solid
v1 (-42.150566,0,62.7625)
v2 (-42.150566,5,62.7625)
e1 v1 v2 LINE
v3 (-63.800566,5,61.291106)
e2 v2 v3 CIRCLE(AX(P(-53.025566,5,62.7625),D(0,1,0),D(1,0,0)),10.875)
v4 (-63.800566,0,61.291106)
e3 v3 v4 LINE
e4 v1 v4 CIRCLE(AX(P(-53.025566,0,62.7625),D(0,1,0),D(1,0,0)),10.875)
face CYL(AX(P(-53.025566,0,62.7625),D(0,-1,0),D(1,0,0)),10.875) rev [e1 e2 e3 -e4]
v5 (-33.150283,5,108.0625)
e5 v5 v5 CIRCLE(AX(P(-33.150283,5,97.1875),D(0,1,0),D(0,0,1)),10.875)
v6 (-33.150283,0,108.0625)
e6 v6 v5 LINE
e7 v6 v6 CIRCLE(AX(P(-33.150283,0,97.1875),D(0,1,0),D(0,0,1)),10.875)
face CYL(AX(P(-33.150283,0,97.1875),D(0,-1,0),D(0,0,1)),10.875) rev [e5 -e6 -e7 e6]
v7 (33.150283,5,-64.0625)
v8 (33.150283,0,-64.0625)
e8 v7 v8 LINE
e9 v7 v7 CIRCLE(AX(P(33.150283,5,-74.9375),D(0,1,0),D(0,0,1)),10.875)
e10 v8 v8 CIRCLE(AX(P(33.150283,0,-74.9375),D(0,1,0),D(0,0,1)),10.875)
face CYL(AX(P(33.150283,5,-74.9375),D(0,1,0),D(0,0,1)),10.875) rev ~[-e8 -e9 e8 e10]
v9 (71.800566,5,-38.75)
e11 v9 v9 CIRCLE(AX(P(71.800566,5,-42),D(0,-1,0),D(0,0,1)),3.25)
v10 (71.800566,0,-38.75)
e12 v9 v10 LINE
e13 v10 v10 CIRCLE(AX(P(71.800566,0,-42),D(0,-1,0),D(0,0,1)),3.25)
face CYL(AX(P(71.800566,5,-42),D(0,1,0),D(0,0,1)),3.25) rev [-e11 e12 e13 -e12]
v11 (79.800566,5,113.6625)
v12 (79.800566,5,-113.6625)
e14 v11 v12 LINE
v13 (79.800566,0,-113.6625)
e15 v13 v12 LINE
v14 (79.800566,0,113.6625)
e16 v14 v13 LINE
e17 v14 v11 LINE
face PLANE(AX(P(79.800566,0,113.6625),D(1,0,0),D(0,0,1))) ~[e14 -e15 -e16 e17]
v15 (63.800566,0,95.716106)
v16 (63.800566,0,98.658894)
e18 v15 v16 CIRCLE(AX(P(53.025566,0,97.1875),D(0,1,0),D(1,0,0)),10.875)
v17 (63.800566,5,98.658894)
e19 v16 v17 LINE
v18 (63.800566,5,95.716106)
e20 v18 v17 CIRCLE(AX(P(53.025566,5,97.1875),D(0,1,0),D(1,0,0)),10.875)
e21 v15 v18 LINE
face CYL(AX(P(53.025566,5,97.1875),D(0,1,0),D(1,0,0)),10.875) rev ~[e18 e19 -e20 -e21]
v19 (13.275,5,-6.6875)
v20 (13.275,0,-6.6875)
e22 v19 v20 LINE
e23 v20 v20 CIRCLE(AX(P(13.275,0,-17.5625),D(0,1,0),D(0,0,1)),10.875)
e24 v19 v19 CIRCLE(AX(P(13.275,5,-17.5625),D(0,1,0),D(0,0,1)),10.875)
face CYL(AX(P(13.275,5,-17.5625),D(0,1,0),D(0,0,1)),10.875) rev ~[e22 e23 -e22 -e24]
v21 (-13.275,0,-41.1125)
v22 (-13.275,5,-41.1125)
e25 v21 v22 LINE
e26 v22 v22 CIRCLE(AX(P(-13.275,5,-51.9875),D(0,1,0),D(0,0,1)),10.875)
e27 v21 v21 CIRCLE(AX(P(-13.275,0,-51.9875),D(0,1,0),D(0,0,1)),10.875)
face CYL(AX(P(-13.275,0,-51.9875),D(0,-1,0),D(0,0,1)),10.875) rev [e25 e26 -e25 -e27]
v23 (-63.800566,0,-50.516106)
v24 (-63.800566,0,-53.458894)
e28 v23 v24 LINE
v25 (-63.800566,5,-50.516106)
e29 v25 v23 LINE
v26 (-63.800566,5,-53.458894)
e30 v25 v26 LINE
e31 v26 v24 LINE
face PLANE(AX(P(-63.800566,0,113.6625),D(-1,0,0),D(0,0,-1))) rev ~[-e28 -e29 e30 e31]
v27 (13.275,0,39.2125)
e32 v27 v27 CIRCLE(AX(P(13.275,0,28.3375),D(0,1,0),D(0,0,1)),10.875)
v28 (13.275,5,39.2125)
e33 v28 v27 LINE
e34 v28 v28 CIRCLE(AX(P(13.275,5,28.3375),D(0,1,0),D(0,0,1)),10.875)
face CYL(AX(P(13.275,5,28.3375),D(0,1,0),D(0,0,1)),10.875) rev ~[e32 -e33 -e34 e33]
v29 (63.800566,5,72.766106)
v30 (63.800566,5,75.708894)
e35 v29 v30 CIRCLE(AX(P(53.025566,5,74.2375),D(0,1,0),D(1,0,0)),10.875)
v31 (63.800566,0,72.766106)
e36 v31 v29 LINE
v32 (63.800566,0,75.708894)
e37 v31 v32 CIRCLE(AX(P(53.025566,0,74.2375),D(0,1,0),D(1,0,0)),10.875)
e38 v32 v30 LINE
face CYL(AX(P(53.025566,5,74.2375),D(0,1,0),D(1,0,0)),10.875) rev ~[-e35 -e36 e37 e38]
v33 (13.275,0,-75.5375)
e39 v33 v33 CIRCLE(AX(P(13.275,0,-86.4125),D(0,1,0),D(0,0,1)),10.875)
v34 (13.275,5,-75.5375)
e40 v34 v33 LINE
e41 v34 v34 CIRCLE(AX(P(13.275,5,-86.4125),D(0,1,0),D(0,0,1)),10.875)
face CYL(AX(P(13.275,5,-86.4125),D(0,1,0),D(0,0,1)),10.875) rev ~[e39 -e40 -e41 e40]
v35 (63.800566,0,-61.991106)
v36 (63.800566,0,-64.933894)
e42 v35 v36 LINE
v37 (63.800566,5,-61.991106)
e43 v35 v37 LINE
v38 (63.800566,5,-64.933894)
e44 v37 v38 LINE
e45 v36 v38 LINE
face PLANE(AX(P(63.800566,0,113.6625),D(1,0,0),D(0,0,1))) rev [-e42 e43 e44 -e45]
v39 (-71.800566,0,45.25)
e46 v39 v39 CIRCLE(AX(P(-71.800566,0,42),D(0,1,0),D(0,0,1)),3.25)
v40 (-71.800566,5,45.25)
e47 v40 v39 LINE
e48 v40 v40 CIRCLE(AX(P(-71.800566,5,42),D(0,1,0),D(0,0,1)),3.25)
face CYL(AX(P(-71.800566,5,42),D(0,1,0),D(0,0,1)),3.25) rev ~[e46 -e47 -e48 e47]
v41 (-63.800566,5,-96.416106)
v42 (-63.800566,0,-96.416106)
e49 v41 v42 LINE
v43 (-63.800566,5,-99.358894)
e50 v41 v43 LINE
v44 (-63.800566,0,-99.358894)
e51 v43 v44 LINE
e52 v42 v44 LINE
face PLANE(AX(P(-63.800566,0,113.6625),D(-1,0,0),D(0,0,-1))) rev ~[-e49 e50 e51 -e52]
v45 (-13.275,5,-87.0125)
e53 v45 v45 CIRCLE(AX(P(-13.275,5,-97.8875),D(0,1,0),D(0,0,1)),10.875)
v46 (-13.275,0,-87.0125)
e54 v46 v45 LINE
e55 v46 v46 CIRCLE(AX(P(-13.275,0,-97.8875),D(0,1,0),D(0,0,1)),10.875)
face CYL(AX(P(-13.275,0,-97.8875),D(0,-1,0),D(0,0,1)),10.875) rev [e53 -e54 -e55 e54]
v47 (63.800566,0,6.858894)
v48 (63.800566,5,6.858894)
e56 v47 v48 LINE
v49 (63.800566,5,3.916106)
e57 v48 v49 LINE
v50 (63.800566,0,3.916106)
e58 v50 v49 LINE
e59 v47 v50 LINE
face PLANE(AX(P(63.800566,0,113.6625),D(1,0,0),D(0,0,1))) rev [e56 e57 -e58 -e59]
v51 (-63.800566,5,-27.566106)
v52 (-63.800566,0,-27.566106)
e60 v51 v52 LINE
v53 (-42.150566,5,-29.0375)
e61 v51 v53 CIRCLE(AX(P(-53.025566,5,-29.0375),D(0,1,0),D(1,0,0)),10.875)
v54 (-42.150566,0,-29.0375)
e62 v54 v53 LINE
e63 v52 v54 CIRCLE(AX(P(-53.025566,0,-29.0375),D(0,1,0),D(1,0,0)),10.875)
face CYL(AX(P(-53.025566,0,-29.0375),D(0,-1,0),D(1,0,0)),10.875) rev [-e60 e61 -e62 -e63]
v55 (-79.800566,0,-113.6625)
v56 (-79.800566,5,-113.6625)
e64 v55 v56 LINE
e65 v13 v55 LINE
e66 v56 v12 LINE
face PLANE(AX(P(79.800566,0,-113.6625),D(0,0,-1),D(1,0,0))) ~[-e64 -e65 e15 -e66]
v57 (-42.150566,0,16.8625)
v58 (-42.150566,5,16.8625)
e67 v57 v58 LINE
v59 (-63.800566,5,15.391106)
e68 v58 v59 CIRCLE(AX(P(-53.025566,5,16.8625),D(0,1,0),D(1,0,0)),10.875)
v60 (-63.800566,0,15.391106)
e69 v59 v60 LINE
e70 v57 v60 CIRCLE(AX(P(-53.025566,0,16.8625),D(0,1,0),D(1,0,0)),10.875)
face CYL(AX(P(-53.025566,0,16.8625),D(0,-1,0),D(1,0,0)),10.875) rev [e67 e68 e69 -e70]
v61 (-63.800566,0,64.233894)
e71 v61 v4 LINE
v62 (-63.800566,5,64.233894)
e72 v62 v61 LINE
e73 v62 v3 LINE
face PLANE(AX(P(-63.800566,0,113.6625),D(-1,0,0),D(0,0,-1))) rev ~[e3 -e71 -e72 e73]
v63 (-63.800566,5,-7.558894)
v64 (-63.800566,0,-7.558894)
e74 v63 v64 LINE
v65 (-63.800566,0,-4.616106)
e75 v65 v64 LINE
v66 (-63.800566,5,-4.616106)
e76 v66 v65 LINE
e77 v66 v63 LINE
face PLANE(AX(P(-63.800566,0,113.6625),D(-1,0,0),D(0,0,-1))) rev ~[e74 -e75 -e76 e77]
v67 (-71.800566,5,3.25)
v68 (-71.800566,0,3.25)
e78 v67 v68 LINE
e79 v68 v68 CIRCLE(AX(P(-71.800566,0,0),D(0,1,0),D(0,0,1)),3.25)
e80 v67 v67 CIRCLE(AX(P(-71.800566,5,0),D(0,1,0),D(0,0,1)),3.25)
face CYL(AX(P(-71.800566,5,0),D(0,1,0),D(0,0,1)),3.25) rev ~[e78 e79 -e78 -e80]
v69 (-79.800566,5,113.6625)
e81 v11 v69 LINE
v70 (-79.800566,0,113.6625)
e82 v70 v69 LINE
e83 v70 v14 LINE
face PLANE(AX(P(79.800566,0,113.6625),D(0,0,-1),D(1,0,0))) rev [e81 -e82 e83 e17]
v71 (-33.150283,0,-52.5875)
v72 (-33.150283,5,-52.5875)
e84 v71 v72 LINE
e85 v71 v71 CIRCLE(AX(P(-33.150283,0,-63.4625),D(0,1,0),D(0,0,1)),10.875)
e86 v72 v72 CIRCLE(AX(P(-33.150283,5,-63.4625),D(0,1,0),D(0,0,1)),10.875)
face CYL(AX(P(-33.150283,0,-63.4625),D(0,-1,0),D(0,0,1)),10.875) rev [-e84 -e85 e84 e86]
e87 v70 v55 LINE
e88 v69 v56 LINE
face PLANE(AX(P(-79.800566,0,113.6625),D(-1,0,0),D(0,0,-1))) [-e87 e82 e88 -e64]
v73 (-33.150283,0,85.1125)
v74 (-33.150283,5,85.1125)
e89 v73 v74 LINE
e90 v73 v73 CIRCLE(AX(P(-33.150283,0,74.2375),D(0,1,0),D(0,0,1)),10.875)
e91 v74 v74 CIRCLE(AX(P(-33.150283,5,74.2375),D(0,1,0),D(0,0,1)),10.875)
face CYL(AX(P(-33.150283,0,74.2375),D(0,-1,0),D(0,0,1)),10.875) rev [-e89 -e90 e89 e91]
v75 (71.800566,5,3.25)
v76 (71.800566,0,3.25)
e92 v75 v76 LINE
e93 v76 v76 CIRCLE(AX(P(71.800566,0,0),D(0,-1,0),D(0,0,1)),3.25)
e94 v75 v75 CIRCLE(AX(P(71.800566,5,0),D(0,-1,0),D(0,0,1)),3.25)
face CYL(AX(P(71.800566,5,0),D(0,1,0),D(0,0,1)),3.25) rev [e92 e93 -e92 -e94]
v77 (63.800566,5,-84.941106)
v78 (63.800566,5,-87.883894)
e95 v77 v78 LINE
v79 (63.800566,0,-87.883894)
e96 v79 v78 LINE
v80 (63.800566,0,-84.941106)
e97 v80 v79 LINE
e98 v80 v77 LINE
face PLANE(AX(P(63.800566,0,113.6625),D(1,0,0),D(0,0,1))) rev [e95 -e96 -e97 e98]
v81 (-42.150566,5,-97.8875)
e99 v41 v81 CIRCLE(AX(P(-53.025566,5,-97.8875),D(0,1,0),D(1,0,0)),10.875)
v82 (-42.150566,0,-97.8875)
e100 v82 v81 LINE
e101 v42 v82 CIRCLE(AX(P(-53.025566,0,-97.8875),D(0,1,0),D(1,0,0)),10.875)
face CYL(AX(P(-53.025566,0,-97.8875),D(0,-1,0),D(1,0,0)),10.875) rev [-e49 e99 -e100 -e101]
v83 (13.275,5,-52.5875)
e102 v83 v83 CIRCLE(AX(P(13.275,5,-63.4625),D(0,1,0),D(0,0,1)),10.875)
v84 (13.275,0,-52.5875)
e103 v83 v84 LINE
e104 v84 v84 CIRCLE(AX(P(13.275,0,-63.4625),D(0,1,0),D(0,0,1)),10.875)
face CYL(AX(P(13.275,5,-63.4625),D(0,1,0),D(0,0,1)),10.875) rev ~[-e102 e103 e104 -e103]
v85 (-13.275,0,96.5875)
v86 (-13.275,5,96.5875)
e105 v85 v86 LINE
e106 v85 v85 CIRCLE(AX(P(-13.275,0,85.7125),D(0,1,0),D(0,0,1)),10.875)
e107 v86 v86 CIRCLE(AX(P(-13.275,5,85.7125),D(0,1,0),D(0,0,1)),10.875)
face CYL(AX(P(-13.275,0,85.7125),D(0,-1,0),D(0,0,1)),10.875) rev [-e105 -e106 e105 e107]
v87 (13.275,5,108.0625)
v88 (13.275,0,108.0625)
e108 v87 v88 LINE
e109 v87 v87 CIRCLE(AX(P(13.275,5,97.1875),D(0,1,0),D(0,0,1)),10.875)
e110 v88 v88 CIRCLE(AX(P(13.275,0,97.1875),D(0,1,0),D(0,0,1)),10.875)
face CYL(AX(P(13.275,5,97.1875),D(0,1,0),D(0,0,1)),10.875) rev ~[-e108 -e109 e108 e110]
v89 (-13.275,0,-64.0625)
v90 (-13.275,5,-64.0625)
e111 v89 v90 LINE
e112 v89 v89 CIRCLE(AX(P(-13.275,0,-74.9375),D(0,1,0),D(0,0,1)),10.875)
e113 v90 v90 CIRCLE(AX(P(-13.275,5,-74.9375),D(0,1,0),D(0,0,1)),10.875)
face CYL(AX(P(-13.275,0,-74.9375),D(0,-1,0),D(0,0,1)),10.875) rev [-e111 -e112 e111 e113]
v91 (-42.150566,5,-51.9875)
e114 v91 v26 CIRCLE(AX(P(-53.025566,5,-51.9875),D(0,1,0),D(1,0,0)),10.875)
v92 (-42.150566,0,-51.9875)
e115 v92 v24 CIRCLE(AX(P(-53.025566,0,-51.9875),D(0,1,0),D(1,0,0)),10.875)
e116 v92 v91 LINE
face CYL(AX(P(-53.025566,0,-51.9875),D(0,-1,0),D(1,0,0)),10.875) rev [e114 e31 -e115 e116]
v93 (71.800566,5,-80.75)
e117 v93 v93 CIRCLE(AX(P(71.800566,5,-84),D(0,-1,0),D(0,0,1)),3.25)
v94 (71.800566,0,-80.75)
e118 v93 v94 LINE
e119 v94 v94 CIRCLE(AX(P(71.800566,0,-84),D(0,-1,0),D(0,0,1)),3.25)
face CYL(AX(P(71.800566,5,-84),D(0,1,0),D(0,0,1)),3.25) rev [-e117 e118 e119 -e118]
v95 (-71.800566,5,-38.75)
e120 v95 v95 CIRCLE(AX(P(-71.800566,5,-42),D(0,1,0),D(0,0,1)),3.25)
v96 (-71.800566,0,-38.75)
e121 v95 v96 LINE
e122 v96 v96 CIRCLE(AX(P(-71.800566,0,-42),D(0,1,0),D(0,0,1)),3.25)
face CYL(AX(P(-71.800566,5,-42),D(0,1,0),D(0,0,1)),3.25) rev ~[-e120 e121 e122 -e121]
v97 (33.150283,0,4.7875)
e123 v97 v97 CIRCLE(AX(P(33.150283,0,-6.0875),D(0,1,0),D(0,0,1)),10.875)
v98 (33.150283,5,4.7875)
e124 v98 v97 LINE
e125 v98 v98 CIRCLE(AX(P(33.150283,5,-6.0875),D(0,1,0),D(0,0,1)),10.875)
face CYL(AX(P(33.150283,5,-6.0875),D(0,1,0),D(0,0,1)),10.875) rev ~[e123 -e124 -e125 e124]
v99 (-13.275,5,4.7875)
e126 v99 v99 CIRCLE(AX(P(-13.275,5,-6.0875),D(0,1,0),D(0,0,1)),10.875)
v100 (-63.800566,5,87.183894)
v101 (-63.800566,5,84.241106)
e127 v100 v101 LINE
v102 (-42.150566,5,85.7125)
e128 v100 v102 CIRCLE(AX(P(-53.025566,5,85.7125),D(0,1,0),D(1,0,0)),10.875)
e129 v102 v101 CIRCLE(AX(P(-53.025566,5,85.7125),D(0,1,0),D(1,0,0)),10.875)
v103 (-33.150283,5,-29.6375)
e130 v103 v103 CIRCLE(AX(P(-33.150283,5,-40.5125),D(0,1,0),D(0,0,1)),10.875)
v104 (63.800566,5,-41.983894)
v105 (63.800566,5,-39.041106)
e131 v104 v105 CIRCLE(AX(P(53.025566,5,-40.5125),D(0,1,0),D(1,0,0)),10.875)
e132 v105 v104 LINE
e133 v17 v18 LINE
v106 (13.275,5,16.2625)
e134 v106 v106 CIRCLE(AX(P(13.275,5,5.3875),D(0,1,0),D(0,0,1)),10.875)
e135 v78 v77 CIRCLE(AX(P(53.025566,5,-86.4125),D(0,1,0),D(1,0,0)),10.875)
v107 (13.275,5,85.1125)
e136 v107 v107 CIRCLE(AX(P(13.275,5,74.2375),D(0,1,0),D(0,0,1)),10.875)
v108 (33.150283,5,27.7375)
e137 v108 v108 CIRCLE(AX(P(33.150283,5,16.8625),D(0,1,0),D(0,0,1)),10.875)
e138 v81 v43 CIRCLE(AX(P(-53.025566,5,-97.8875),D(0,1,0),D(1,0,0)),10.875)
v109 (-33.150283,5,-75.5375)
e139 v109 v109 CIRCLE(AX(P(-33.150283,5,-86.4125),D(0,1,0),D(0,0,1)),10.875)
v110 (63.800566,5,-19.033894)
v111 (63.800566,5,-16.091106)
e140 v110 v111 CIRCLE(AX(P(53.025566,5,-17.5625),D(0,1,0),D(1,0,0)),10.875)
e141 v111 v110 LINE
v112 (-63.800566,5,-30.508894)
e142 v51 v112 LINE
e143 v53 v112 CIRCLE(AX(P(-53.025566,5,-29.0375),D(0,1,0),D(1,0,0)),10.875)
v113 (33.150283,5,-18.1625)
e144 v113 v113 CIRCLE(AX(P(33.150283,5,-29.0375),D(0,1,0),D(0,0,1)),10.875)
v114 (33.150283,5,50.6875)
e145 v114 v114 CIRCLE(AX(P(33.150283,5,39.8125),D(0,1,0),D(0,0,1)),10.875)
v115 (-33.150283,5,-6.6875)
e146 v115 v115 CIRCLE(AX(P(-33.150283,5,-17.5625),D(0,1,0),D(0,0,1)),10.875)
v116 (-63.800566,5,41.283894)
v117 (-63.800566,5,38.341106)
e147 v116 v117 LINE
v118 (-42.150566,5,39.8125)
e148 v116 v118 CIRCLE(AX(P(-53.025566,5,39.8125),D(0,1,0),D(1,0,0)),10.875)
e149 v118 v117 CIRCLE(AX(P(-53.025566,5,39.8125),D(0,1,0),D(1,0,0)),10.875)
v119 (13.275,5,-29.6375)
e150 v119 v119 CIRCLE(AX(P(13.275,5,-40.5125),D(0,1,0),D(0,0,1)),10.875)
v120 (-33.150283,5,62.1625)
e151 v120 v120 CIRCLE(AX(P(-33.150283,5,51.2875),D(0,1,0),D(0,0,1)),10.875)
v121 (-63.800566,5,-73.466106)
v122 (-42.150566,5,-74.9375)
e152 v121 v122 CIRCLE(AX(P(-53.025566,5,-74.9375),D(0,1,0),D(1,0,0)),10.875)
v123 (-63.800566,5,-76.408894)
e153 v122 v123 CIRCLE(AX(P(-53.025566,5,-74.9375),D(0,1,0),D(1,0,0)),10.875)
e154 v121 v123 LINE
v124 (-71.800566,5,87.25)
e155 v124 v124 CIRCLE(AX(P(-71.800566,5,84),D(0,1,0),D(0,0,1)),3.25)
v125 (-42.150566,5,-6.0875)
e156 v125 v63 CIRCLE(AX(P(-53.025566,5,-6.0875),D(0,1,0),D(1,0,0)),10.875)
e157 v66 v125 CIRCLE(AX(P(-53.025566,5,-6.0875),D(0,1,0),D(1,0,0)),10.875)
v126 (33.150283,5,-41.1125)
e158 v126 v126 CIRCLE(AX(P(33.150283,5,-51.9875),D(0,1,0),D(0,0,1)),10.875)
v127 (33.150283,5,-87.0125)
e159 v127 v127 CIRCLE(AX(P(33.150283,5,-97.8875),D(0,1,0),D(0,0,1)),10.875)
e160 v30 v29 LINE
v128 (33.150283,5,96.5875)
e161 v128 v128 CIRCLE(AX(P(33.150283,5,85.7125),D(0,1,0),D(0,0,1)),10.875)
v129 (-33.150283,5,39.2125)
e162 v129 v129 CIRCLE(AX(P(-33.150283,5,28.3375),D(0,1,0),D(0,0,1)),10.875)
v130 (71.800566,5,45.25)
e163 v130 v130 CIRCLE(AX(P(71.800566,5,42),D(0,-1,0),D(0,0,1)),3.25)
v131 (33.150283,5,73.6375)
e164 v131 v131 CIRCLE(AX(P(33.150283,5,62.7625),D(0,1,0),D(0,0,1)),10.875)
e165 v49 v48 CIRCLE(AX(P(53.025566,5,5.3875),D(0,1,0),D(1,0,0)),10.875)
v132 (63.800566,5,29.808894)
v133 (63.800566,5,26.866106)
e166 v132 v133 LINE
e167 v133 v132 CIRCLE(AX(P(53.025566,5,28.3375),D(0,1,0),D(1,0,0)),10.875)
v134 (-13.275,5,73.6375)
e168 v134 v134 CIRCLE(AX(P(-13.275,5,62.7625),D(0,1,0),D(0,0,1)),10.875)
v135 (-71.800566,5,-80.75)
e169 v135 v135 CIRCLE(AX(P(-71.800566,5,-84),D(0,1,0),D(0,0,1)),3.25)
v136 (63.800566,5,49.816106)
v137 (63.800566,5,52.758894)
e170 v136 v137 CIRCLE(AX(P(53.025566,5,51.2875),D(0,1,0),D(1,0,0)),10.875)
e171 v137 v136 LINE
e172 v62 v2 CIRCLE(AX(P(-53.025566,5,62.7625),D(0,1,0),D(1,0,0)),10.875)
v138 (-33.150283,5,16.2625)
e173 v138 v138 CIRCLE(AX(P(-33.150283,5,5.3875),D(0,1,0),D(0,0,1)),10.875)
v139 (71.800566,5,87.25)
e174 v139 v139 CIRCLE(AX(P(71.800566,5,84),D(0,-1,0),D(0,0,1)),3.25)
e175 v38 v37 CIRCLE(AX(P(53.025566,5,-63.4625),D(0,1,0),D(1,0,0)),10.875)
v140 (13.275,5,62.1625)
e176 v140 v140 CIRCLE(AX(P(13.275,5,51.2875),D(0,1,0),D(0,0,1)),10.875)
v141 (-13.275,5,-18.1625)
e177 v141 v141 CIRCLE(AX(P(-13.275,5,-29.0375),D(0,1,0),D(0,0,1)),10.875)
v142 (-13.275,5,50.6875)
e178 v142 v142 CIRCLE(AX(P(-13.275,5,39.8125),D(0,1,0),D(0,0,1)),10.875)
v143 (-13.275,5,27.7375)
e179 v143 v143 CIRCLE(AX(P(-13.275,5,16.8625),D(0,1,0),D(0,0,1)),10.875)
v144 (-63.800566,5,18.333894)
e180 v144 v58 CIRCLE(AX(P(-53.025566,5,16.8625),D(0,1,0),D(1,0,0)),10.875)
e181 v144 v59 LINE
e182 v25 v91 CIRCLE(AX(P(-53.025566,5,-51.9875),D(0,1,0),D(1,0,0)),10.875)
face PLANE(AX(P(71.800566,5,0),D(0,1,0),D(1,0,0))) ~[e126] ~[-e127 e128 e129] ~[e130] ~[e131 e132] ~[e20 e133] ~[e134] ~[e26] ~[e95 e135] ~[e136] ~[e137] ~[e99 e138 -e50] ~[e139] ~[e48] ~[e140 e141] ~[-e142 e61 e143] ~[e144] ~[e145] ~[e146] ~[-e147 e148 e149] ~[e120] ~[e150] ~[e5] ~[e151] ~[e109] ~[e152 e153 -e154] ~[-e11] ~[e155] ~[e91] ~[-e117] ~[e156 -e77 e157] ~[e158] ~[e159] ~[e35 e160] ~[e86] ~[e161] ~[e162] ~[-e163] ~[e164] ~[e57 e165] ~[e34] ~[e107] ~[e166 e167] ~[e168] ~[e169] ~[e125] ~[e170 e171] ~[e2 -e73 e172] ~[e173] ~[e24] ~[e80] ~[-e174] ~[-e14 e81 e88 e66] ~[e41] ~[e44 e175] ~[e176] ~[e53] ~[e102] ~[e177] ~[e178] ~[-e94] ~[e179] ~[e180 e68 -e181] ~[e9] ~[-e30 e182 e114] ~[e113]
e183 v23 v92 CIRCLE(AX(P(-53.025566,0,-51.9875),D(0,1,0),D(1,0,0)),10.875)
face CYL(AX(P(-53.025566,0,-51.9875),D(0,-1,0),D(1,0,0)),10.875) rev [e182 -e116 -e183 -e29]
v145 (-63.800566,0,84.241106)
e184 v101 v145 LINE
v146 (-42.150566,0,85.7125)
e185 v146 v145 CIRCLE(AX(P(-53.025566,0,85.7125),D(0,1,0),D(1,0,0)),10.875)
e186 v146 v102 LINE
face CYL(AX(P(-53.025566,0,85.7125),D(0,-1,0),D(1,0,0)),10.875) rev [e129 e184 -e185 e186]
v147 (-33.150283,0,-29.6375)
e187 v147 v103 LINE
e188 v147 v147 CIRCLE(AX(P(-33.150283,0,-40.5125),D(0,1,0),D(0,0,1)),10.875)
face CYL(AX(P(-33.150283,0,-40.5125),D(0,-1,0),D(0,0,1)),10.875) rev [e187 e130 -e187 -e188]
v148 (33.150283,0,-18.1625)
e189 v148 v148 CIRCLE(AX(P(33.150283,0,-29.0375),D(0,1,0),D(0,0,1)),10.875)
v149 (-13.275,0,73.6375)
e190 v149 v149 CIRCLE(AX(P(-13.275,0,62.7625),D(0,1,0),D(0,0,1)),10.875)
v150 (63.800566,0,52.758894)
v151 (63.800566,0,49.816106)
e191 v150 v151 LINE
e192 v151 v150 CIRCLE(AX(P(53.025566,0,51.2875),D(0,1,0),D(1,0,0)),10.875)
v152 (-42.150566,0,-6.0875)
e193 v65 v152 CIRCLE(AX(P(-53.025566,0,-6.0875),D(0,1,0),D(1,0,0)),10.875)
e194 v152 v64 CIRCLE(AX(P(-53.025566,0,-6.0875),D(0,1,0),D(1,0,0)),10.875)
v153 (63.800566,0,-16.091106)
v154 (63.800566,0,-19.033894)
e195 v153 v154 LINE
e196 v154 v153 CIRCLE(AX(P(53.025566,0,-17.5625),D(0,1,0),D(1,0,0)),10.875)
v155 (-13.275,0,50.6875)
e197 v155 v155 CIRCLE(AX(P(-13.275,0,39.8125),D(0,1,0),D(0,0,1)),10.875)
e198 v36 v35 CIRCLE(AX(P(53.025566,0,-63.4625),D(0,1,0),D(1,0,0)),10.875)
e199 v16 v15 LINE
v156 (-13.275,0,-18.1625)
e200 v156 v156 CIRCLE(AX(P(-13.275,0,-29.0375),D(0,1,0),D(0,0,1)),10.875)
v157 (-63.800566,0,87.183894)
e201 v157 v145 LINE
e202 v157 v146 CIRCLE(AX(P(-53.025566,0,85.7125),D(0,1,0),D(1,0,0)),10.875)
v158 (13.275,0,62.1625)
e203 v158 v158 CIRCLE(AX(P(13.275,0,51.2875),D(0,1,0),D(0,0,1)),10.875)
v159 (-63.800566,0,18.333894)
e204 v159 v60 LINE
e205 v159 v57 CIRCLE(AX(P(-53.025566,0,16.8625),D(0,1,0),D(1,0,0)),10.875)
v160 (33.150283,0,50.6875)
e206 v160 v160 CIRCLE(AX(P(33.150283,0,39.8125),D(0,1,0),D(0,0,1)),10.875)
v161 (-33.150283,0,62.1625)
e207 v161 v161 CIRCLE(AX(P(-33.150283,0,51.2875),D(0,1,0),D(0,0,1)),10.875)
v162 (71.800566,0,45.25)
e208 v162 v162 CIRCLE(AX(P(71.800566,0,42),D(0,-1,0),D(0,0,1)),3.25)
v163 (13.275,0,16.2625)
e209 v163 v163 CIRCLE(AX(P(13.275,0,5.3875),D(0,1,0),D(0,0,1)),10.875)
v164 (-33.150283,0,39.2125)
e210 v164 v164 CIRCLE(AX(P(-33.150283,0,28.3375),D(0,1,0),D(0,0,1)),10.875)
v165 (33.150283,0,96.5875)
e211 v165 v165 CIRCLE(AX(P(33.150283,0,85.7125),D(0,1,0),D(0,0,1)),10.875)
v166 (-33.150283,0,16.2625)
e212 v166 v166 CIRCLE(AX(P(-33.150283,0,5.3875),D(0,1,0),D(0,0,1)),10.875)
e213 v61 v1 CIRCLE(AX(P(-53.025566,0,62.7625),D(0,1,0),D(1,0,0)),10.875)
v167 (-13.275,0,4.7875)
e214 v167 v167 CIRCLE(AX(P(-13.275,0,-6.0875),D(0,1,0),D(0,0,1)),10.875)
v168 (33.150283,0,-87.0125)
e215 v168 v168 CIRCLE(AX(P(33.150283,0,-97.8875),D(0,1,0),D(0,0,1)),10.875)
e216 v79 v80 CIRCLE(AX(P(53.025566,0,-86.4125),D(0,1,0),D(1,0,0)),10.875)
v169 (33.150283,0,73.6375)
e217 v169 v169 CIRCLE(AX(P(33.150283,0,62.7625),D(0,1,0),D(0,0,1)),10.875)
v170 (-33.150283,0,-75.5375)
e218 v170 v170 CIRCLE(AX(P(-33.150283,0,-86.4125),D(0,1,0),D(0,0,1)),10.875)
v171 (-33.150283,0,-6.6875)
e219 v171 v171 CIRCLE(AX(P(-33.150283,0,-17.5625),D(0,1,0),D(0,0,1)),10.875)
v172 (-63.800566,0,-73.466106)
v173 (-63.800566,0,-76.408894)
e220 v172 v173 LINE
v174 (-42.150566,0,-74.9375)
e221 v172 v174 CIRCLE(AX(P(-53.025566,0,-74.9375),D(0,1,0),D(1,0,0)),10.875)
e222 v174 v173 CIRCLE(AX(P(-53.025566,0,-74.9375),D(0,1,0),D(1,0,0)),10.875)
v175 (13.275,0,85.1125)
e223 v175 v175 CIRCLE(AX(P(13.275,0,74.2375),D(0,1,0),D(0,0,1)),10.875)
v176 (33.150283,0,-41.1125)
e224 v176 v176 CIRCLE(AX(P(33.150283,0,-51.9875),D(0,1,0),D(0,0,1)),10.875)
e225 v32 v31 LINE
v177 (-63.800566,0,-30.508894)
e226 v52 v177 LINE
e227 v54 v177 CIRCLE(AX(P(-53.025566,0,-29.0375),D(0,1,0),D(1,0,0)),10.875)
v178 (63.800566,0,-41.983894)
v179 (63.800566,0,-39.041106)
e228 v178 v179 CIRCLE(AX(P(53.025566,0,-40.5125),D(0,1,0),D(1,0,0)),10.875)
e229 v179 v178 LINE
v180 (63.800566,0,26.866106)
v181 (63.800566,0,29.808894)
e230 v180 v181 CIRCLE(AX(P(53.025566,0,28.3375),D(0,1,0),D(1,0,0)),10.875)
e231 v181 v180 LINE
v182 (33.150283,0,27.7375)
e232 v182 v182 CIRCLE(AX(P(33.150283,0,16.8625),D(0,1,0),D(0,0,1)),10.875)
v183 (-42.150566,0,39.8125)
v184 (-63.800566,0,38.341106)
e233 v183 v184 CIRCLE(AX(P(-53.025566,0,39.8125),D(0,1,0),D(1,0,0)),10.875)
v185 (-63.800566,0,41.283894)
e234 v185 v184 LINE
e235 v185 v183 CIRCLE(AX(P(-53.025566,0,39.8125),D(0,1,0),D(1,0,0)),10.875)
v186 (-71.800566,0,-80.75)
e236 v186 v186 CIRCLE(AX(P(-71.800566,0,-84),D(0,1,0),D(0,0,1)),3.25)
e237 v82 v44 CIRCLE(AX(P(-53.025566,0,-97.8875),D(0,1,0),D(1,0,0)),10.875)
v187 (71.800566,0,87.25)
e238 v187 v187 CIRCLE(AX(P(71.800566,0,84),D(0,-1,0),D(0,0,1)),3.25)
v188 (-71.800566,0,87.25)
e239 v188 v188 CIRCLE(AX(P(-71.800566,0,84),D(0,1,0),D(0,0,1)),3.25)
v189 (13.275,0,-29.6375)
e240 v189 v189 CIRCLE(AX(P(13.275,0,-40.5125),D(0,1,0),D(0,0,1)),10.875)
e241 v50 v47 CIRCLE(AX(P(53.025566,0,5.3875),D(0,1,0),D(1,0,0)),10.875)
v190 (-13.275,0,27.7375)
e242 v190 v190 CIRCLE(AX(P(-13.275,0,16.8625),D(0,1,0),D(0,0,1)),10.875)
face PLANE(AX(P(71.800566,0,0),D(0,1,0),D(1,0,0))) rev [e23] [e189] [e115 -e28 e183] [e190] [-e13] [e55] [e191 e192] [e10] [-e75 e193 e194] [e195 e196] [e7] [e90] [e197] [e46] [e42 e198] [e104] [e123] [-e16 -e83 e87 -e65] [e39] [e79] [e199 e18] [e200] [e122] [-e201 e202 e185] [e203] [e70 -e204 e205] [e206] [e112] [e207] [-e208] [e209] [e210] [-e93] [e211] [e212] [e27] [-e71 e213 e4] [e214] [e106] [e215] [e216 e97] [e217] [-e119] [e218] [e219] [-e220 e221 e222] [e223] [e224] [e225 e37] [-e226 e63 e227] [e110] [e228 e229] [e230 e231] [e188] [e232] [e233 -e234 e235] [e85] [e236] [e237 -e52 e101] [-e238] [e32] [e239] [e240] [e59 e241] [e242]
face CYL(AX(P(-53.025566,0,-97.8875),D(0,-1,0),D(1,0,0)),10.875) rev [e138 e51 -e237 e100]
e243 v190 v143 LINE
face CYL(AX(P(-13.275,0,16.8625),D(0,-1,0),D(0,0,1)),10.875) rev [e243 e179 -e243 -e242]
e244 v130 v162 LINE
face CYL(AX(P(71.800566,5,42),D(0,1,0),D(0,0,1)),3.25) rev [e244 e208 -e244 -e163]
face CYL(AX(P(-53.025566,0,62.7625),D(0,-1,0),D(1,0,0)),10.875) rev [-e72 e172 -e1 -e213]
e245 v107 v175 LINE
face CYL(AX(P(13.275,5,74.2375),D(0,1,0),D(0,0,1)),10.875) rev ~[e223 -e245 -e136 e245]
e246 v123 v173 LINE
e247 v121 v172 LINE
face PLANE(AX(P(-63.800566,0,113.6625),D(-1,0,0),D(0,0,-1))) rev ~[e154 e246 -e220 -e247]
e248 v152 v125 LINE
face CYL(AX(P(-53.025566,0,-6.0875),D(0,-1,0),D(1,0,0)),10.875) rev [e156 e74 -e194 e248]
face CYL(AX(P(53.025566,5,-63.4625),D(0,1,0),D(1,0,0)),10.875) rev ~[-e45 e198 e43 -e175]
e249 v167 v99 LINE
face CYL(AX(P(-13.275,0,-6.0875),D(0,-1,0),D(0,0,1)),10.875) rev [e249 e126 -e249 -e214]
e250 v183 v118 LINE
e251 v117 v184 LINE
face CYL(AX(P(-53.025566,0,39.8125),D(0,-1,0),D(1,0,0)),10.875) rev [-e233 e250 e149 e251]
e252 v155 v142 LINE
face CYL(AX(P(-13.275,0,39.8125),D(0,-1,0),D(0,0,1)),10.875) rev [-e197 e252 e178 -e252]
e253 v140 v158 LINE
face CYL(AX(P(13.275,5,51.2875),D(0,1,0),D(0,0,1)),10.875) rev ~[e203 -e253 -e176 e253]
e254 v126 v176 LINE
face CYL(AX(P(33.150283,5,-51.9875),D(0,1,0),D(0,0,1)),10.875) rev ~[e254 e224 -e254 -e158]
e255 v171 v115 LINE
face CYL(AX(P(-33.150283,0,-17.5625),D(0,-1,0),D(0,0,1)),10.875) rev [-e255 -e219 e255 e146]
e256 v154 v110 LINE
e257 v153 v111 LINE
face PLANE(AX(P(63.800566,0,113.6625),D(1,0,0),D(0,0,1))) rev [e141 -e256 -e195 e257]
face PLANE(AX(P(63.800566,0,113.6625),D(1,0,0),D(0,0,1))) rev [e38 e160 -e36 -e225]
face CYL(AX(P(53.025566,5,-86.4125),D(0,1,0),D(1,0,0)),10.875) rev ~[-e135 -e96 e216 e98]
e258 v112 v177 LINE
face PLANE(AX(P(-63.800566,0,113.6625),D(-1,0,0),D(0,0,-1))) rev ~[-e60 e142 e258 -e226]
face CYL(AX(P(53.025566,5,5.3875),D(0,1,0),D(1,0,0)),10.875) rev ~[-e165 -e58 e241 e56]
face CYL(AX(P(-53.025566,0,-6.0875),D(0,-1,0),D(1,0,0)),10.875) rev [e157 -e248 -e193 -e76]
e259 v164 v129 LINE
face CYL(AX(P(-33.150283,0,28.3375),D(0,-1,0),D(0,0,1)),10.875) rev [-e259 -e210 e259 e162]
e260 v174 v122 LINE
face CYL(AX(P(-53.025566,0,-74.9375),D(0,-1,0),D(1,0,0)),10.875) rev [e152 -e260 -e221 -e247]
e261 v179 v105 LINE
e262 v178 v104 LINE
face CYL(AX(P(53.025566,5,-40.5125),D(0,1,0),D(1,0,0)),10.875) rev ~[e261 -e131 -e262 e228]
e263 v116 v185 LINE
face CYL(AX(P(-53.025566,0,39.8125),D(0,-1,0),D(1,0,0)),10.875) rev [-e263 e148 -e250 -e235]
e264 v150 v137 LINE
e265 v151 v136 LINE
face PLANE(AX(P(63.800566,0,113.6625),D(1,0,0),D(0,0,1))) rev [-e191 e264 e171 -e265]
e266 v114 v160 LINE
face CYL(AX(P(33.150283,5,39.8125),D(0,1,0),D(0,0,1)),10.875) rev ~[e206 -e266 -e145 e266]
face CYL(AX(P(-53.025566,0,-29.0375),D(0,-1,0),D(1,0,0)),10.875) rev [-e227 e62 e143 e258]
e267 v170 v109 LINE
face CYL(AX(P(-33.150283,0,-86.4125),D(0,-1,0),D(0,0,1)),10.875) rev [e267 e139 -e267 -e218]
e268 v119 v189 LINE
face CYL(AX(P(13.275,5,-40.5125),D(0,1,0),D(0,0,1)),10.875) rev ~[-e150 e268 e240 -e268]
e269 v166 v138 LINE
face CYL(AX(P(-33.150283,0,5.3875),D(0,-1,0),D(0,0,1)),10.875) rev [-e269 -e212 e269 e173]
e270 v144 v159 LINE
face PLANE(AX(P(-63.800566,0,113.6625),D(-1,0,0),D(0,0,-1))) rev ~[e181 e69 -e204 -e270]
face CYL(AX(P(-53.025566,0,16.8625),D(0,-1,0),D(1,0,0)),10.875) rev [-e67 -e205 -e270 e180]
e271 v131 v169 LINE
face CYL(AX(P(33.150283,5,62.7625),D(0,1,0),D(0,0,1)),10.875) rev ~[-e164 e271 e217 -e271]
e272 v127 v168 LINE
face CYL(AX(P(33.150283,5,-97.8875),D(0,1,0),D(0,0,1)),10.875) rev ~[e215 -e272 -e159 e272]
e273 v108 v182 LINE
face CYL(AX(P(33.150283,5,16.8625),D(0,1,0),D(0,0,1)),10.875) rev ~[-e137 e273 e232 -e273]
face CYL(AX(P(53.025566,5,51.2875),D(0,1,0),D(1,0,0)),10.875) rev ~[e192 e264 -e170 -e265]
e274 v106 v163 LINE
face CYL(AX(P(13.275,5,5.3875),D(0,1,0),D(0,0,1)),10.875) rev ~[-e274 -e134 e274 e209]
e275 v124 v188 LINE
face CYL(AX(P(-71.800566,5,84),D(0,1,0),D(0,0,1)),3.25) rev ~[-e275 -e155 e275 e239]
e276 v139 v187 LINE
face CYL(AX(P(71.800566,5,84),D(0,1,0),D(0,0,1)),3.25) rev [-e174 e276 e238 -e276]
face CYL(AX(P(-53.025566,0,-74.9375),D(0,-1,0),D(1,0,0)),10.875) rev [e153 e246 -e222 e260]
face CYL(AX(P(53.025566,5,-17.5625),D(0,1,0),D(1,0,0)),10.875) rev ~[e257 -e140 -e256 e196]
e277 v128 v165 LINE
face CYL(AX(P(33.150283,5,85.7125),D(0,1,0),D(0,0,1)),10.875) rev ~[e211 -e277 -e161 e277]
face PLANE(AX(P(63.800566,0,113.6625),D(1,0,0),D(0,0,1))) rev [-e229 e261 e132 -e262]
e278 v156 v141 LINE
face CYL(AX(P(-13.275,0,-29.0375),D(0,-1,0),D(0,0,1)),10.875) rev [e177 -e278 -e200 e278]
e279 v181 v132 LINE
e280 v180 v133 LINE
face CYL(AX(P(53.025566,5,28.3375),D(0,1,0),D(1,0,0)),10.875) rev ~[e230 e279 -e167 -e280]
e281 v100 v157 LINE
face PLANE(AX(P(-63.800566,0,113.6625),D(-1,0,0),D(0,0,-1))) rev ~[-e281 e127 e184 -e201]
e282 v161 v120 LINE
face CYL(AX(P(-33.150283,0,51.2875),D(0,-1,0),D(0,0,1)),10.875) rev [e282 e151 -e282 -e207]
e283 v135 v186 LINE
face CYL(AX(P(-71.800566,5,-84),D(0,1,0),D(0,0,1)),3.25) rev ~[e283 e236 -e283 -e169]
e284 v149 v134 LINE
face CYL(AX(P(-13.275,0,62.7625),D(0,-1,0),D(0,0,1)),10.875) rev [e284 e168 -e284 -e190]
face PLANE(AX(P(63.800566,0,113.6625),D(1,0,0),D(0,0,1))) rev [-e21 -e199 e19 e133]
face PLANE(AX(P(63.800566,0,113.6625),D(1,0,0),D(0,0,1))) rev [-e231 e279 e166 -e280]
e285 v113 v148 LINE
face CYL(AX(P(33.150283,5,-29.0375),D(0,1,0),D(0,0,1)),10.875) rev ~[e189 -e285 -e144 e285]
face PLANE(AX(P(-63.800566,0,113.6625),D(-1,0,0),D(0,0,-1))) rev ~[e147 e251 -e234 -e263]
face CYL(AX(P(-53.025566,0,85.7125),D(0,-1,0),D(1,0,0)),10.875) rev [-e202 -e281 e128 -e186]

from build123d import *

# Parameters (mm, degrees)
CELL_BLOCK_SKETCH_W  = 127.601132068
CELL_BLOCK_SKETCH_H  = 227.325
BOSS_EXTRUDE1_DEPTH  = 5
CELL_HOLES_PATTERN_R = 10.875
CUT_EXTRUDE1_DEPTH   = 5
SKETCH1_R            = 10.875
CUT_EXTRUDE2_DEPTH   = 5
SKETCH3_W            = 16
SKETCH3_H            = 227.325
BOSS_EXTRUDE3_DEPTH  = 5
SKETCH4_R            = 3.25
CUT_EXTRUDE3_DEPTH   = 5


with BuildPart() as part:
    # Cell Block Sketch → Boss-Extrude1 (new body)
    with BuildSketch(Plane(origin=(0, 0, 0), x_dir=(1, 0, 0), z_dir=(0, 1, 0))):
        Rectangle(CELL_BLOCK_SKETCH_W, CELL_BLOCK_SKETCH_H)
    extrude(amount=BOSS_EXTRUDE1_DEPTH)

    # Cell Holes Pattern → Cut-Extrude1 (cut)
    with BuildSketch(Plane(origin=(0, 0, 0), x_dir=(1, 0, 0), z_dir=(0, 1, 0))):
        with Locations(Location((-33.150283017, 86.4125, 0), (0, 0, 270))):
            Circle(CELL_HOLES_PATTERN_R)
        with Locations((-53.025566034, 97.8875)):
            Circle(CELL_HOLES_PATTERN_R)
        with Locations(Location((-13.275, 97.8875, 0), (0, 0, 270))):
            Circle(CELL_HOLES_PATTERN_R)
        with Locations((-53.025566034, 74.9375)):
            Circle(CELL_HOLES_PATTERN_R)
        with Locations(Location((-33.150283017, 63.4625, 0), (0, 0, 270))):
            Circle(CELL_HOLES_PATTERN_R)
        with Locations(Location((-13.275, 74.9375, 0), (0, 0, 270))):
            Circle(CELL_HOLES_PATTERN_R)
        with Locations((-53.025566034, 51.9875)):
            Circle(CELL_HOLES_PATTERN_R)
        with Locations(Location((-33.150283017, 40.5125, 0), (0, 0, 270))):
            Circle(CELL_HOLES_PATTERN_R)
        with Locations(Location((-13.275, 51.9875, 0), (0, 0, 270))):
            Circle(CELL_HOLES_PATTERN_R)
        with Locations((-53.025566034, 29.0375)):
            Circle(CELL_HOLES_PATTERN_R)
        with Locations(Location((-33.150283017, 17.5625, 0), (0, 0, 270))):
            Circle(CELL_HOLES_PATTERN_R)
        with Locations(Location((-13.275, 29.0375, 0), (0, 0, 270))):
            Circle(CELL_HOLES_PATTERN_R)
        with Locations((-53.025566034, 6.0875)):
            Circle(CELL_HOLES_PATTERN_R)
        with Locations(Location((-33.150283017, -5.3875, 0), (0, 0, 270))):
            Circle(CELL_HOLES_PATTERN_R)
        with Locations(Location((-13.275, 6.0875, 0), (0, 0, 270))):
            Circle(CELL_HOLES_PATTERN_R)
        with Locations((-53.025566034, -16.8625)):
            Circle(CELL_HOLES_PATTERN_R)
        with Locations(Location((-33.150283017, -28.3375, 0), (0, 0, 270))):
            Circle(CELL_HOLES_PATTERN_R)
        with Locations(Location((-13.275, -16.8625, 0), (0, 0, 270))):
            Circle(CELL_HOLES_PATTERN_R)
        with Locations((-53.025566034, -39.8125)):
            Circle(CELL_HOLES_PATTERN_R)
        with Locations(Location((-33.150283017, -51.2875, 0), (0, 0, 270))):
            Circle(CELL_HOLES_PATTERN_R)
        with Locations(Location((-13.275, -39.8125, 0), (0, 0, 270))):
            Circle(CELL_HOLES_PATTERN_R)
        with Locations((-53.025566034, -62.7625)):
            Circle(CELL_HOLES_PATTERN_R)
        with Locations(Location((-33.150283017, -74.2375, 0), (0, 0, 270))):
            Circle(CELL_HOLES_PATTERN_R)
        with Locations(Location((-13.275, -62.7625, 0), (0, 0, 270))):
            Circle(CELL_HOLES_PATTERN_R)
        with Locations((-53.025566034, -85.7125)):
            Circle(CELL_HOLES_PATTERN_R)
        with Locations(Location((-33.150283017, -97.1875, 0), (0, 0, 270))):
            Circle(CELL_HOLES_PATTERN_R)
        with Locations(Location((-13.275, -85.7125, 0), (0, 0, 270))):
            Circle(CELL_HOLES_PATTERN_R)
    extrude(amount=CUT_EXTRUDE1_DEPTH, mode=Mode.SUBTRACT)

    # Sketch1 → Cut-Extrude2 (cut)
    with BuildSketch(Plane(origin=(0, 5, 0), x_dir=(1, 0, 0), z_dir=(0, 1, 0))):
        with Locations(Location((13.275, 86.4125, 0), (0, 0, 270))):
            Circle(SKETCH1_R)
        with Locations(Location((33.150283017, 97.8875, 0), (0, 0, 270))):
            Circle(SKETCH1_R)
        with Locations((53.025566034, 86.4125)):
            Circle(SKETCH1_R)
        with Locations(Location((13.275, 63.4625, 0), (0, 0, 270))):
            Circle(SKETCH1_R)
        with Locations(Location((33.150283017, 74.9375, 0), (0, 0, 270))):
            Circle(SKETCH1_R)
        with Locations((53.025566034, 63.4625)):
            Circle(SKETCH1_R)
        with Locations(Location((13.275, 40.5125, 0), (0, 0, 270))):
            Circle(SKETCH1_R)
        with Locations(Location((33.150283017, 51.9875, 0), (0, 0, 270))):
            Circle(SKETCH1_R)
        with Locations((53.025566034, 40.5125)):
            Circle(SKETCH1_R)
        with Locations(Location((13.275, 17.5625, 0), (0, 0, 270))):
            Circle(SKETCH1_R)
        with Locations(Location((33.150283017, 29.0375, 0), (0, 0, 270))):
            Circle(SKETCH1_R)
        with Locations((53.025566034, 17.5625)):
            Circle(SKETCH1_R)
        with Locations(Location((13.275, -5.3875, 0), (0, 0, 270))):
            Circle(SKETCH1_R)
        with Locations(Location((33.150283017, 6.0875, 0), (0, 0, 270))):
            Circle(SKETCH1_R)
        with Locations((53.025566034, -5.3875)):
            Circle(SKETCH1_R)
        with Locations(Location((13.275, -28.3375, 0), (0, 0, 270))):
            Circle(SKETCH1_R)
        with Locations(Location((33.150283017, -16.8625, 0), (0, 0, 270))):
            Circle(SKETCH1_R)
        with Locations((53.025566034, -28.3375)):
            Circle(SKETCH1_R)
        with Locations(Location((13.275, -51.2875, 0), (0, 0, 270))):
            Circle(SKETCH1_R)
        with Locations(Location((33.150283017, -39.8125, 0), (0, 0, 270))):
            Circle(SKETCH1_R)
        with Locations((53.025566034, -51.2875)):
            Circle(SKETCH1_R)
        with Locations(Location((13.275, -74.2375, 0), (0, 0, 270))):
            Circle(SKETCH1_R)
        with Locations(Location((33.150283017, -62.7625, 0), (0, 0, 270))):
            Circle(SKETCH1_R)
        with Locations((53.025566034, -74.2375)):
            Circle(SKETCH1_R)
        with Locations(Location((13.275, -97.1875, 0), (0, 0, 270))):
            Circle(SKETCH1_R)
        with Locations(Location((33.150283017, -85.7125, 0), (0, 0, 270))):
            Circle(SKETCH1_R)
        with Locations((53.025566034, -97.1875)):
            Circle(SKETCH1_R)
    extrude(amount=-CUT_EXTRUDE2_DEPTH, mode=Mode.SUBTRACT)

    # Sketch3 → Boss-Extrude3 (add)
    with BuildSketch(Plane(origin=(0, 0, 0), x_dir=(1, 0, 0), z_dir=(0, 1, 0))):
        with Locations((-71.800566034, 0)):
            Rectangle(SKETCH3_W, SKETCH3_H)
    boss_extrude3 = extrude(amount=BOSS_EXTRUDE3_DEPTH)

    # Mirror1: Boss-Extrude3 across plane
    add(boss_extrude3.mirror(Plane(origin=(0, 0, 0), x_dir=(0, 0, 1), z_dir=(1, 0, 0))))

    # Sketch4 → Cut-Extrude3 (cut)
    with BuildSketch(Plane(origin=(0, 5, 0), x_dir=(1, 0, 0), z_dir=(0, 1, 0))):
        with Locations(Location((-71.800566034, 0, 0), (0, 0, 270))):
            Circle(SKETCH4_R)
        with Locations(Location((-71.800566034, -42, 0), (0, 0, 270))):
            Circle(SKETCH4_R)
        with Locations(Location((-71.800566034, -84, 0), (0, 0, 270))):
            Circle(SKETCH4_R)
        with Locations(Location((-71.800566034, 42, 0), (0, 0, 270))):
            Circle(SKETCH4_R)
        with Locations(Location((-71.800566034, 84, 0), (0, 0, 270))):
            Circle(SKETCH4_R)
    cut_extrude3 = extrude(amount=-CUT_EXTRUDE3_DEPTH, mode=Mode.SUBTRACT)

    # Mirror2: Cut-Extrude3 across plane
    add(cut_extrude3.mirror(Plane(origin=(0, 0, 0), x_dir=(0, 0, 1), z_dir=(1, 0, 0))), mode=Mode.SUBTRACT)


solid = part.part
